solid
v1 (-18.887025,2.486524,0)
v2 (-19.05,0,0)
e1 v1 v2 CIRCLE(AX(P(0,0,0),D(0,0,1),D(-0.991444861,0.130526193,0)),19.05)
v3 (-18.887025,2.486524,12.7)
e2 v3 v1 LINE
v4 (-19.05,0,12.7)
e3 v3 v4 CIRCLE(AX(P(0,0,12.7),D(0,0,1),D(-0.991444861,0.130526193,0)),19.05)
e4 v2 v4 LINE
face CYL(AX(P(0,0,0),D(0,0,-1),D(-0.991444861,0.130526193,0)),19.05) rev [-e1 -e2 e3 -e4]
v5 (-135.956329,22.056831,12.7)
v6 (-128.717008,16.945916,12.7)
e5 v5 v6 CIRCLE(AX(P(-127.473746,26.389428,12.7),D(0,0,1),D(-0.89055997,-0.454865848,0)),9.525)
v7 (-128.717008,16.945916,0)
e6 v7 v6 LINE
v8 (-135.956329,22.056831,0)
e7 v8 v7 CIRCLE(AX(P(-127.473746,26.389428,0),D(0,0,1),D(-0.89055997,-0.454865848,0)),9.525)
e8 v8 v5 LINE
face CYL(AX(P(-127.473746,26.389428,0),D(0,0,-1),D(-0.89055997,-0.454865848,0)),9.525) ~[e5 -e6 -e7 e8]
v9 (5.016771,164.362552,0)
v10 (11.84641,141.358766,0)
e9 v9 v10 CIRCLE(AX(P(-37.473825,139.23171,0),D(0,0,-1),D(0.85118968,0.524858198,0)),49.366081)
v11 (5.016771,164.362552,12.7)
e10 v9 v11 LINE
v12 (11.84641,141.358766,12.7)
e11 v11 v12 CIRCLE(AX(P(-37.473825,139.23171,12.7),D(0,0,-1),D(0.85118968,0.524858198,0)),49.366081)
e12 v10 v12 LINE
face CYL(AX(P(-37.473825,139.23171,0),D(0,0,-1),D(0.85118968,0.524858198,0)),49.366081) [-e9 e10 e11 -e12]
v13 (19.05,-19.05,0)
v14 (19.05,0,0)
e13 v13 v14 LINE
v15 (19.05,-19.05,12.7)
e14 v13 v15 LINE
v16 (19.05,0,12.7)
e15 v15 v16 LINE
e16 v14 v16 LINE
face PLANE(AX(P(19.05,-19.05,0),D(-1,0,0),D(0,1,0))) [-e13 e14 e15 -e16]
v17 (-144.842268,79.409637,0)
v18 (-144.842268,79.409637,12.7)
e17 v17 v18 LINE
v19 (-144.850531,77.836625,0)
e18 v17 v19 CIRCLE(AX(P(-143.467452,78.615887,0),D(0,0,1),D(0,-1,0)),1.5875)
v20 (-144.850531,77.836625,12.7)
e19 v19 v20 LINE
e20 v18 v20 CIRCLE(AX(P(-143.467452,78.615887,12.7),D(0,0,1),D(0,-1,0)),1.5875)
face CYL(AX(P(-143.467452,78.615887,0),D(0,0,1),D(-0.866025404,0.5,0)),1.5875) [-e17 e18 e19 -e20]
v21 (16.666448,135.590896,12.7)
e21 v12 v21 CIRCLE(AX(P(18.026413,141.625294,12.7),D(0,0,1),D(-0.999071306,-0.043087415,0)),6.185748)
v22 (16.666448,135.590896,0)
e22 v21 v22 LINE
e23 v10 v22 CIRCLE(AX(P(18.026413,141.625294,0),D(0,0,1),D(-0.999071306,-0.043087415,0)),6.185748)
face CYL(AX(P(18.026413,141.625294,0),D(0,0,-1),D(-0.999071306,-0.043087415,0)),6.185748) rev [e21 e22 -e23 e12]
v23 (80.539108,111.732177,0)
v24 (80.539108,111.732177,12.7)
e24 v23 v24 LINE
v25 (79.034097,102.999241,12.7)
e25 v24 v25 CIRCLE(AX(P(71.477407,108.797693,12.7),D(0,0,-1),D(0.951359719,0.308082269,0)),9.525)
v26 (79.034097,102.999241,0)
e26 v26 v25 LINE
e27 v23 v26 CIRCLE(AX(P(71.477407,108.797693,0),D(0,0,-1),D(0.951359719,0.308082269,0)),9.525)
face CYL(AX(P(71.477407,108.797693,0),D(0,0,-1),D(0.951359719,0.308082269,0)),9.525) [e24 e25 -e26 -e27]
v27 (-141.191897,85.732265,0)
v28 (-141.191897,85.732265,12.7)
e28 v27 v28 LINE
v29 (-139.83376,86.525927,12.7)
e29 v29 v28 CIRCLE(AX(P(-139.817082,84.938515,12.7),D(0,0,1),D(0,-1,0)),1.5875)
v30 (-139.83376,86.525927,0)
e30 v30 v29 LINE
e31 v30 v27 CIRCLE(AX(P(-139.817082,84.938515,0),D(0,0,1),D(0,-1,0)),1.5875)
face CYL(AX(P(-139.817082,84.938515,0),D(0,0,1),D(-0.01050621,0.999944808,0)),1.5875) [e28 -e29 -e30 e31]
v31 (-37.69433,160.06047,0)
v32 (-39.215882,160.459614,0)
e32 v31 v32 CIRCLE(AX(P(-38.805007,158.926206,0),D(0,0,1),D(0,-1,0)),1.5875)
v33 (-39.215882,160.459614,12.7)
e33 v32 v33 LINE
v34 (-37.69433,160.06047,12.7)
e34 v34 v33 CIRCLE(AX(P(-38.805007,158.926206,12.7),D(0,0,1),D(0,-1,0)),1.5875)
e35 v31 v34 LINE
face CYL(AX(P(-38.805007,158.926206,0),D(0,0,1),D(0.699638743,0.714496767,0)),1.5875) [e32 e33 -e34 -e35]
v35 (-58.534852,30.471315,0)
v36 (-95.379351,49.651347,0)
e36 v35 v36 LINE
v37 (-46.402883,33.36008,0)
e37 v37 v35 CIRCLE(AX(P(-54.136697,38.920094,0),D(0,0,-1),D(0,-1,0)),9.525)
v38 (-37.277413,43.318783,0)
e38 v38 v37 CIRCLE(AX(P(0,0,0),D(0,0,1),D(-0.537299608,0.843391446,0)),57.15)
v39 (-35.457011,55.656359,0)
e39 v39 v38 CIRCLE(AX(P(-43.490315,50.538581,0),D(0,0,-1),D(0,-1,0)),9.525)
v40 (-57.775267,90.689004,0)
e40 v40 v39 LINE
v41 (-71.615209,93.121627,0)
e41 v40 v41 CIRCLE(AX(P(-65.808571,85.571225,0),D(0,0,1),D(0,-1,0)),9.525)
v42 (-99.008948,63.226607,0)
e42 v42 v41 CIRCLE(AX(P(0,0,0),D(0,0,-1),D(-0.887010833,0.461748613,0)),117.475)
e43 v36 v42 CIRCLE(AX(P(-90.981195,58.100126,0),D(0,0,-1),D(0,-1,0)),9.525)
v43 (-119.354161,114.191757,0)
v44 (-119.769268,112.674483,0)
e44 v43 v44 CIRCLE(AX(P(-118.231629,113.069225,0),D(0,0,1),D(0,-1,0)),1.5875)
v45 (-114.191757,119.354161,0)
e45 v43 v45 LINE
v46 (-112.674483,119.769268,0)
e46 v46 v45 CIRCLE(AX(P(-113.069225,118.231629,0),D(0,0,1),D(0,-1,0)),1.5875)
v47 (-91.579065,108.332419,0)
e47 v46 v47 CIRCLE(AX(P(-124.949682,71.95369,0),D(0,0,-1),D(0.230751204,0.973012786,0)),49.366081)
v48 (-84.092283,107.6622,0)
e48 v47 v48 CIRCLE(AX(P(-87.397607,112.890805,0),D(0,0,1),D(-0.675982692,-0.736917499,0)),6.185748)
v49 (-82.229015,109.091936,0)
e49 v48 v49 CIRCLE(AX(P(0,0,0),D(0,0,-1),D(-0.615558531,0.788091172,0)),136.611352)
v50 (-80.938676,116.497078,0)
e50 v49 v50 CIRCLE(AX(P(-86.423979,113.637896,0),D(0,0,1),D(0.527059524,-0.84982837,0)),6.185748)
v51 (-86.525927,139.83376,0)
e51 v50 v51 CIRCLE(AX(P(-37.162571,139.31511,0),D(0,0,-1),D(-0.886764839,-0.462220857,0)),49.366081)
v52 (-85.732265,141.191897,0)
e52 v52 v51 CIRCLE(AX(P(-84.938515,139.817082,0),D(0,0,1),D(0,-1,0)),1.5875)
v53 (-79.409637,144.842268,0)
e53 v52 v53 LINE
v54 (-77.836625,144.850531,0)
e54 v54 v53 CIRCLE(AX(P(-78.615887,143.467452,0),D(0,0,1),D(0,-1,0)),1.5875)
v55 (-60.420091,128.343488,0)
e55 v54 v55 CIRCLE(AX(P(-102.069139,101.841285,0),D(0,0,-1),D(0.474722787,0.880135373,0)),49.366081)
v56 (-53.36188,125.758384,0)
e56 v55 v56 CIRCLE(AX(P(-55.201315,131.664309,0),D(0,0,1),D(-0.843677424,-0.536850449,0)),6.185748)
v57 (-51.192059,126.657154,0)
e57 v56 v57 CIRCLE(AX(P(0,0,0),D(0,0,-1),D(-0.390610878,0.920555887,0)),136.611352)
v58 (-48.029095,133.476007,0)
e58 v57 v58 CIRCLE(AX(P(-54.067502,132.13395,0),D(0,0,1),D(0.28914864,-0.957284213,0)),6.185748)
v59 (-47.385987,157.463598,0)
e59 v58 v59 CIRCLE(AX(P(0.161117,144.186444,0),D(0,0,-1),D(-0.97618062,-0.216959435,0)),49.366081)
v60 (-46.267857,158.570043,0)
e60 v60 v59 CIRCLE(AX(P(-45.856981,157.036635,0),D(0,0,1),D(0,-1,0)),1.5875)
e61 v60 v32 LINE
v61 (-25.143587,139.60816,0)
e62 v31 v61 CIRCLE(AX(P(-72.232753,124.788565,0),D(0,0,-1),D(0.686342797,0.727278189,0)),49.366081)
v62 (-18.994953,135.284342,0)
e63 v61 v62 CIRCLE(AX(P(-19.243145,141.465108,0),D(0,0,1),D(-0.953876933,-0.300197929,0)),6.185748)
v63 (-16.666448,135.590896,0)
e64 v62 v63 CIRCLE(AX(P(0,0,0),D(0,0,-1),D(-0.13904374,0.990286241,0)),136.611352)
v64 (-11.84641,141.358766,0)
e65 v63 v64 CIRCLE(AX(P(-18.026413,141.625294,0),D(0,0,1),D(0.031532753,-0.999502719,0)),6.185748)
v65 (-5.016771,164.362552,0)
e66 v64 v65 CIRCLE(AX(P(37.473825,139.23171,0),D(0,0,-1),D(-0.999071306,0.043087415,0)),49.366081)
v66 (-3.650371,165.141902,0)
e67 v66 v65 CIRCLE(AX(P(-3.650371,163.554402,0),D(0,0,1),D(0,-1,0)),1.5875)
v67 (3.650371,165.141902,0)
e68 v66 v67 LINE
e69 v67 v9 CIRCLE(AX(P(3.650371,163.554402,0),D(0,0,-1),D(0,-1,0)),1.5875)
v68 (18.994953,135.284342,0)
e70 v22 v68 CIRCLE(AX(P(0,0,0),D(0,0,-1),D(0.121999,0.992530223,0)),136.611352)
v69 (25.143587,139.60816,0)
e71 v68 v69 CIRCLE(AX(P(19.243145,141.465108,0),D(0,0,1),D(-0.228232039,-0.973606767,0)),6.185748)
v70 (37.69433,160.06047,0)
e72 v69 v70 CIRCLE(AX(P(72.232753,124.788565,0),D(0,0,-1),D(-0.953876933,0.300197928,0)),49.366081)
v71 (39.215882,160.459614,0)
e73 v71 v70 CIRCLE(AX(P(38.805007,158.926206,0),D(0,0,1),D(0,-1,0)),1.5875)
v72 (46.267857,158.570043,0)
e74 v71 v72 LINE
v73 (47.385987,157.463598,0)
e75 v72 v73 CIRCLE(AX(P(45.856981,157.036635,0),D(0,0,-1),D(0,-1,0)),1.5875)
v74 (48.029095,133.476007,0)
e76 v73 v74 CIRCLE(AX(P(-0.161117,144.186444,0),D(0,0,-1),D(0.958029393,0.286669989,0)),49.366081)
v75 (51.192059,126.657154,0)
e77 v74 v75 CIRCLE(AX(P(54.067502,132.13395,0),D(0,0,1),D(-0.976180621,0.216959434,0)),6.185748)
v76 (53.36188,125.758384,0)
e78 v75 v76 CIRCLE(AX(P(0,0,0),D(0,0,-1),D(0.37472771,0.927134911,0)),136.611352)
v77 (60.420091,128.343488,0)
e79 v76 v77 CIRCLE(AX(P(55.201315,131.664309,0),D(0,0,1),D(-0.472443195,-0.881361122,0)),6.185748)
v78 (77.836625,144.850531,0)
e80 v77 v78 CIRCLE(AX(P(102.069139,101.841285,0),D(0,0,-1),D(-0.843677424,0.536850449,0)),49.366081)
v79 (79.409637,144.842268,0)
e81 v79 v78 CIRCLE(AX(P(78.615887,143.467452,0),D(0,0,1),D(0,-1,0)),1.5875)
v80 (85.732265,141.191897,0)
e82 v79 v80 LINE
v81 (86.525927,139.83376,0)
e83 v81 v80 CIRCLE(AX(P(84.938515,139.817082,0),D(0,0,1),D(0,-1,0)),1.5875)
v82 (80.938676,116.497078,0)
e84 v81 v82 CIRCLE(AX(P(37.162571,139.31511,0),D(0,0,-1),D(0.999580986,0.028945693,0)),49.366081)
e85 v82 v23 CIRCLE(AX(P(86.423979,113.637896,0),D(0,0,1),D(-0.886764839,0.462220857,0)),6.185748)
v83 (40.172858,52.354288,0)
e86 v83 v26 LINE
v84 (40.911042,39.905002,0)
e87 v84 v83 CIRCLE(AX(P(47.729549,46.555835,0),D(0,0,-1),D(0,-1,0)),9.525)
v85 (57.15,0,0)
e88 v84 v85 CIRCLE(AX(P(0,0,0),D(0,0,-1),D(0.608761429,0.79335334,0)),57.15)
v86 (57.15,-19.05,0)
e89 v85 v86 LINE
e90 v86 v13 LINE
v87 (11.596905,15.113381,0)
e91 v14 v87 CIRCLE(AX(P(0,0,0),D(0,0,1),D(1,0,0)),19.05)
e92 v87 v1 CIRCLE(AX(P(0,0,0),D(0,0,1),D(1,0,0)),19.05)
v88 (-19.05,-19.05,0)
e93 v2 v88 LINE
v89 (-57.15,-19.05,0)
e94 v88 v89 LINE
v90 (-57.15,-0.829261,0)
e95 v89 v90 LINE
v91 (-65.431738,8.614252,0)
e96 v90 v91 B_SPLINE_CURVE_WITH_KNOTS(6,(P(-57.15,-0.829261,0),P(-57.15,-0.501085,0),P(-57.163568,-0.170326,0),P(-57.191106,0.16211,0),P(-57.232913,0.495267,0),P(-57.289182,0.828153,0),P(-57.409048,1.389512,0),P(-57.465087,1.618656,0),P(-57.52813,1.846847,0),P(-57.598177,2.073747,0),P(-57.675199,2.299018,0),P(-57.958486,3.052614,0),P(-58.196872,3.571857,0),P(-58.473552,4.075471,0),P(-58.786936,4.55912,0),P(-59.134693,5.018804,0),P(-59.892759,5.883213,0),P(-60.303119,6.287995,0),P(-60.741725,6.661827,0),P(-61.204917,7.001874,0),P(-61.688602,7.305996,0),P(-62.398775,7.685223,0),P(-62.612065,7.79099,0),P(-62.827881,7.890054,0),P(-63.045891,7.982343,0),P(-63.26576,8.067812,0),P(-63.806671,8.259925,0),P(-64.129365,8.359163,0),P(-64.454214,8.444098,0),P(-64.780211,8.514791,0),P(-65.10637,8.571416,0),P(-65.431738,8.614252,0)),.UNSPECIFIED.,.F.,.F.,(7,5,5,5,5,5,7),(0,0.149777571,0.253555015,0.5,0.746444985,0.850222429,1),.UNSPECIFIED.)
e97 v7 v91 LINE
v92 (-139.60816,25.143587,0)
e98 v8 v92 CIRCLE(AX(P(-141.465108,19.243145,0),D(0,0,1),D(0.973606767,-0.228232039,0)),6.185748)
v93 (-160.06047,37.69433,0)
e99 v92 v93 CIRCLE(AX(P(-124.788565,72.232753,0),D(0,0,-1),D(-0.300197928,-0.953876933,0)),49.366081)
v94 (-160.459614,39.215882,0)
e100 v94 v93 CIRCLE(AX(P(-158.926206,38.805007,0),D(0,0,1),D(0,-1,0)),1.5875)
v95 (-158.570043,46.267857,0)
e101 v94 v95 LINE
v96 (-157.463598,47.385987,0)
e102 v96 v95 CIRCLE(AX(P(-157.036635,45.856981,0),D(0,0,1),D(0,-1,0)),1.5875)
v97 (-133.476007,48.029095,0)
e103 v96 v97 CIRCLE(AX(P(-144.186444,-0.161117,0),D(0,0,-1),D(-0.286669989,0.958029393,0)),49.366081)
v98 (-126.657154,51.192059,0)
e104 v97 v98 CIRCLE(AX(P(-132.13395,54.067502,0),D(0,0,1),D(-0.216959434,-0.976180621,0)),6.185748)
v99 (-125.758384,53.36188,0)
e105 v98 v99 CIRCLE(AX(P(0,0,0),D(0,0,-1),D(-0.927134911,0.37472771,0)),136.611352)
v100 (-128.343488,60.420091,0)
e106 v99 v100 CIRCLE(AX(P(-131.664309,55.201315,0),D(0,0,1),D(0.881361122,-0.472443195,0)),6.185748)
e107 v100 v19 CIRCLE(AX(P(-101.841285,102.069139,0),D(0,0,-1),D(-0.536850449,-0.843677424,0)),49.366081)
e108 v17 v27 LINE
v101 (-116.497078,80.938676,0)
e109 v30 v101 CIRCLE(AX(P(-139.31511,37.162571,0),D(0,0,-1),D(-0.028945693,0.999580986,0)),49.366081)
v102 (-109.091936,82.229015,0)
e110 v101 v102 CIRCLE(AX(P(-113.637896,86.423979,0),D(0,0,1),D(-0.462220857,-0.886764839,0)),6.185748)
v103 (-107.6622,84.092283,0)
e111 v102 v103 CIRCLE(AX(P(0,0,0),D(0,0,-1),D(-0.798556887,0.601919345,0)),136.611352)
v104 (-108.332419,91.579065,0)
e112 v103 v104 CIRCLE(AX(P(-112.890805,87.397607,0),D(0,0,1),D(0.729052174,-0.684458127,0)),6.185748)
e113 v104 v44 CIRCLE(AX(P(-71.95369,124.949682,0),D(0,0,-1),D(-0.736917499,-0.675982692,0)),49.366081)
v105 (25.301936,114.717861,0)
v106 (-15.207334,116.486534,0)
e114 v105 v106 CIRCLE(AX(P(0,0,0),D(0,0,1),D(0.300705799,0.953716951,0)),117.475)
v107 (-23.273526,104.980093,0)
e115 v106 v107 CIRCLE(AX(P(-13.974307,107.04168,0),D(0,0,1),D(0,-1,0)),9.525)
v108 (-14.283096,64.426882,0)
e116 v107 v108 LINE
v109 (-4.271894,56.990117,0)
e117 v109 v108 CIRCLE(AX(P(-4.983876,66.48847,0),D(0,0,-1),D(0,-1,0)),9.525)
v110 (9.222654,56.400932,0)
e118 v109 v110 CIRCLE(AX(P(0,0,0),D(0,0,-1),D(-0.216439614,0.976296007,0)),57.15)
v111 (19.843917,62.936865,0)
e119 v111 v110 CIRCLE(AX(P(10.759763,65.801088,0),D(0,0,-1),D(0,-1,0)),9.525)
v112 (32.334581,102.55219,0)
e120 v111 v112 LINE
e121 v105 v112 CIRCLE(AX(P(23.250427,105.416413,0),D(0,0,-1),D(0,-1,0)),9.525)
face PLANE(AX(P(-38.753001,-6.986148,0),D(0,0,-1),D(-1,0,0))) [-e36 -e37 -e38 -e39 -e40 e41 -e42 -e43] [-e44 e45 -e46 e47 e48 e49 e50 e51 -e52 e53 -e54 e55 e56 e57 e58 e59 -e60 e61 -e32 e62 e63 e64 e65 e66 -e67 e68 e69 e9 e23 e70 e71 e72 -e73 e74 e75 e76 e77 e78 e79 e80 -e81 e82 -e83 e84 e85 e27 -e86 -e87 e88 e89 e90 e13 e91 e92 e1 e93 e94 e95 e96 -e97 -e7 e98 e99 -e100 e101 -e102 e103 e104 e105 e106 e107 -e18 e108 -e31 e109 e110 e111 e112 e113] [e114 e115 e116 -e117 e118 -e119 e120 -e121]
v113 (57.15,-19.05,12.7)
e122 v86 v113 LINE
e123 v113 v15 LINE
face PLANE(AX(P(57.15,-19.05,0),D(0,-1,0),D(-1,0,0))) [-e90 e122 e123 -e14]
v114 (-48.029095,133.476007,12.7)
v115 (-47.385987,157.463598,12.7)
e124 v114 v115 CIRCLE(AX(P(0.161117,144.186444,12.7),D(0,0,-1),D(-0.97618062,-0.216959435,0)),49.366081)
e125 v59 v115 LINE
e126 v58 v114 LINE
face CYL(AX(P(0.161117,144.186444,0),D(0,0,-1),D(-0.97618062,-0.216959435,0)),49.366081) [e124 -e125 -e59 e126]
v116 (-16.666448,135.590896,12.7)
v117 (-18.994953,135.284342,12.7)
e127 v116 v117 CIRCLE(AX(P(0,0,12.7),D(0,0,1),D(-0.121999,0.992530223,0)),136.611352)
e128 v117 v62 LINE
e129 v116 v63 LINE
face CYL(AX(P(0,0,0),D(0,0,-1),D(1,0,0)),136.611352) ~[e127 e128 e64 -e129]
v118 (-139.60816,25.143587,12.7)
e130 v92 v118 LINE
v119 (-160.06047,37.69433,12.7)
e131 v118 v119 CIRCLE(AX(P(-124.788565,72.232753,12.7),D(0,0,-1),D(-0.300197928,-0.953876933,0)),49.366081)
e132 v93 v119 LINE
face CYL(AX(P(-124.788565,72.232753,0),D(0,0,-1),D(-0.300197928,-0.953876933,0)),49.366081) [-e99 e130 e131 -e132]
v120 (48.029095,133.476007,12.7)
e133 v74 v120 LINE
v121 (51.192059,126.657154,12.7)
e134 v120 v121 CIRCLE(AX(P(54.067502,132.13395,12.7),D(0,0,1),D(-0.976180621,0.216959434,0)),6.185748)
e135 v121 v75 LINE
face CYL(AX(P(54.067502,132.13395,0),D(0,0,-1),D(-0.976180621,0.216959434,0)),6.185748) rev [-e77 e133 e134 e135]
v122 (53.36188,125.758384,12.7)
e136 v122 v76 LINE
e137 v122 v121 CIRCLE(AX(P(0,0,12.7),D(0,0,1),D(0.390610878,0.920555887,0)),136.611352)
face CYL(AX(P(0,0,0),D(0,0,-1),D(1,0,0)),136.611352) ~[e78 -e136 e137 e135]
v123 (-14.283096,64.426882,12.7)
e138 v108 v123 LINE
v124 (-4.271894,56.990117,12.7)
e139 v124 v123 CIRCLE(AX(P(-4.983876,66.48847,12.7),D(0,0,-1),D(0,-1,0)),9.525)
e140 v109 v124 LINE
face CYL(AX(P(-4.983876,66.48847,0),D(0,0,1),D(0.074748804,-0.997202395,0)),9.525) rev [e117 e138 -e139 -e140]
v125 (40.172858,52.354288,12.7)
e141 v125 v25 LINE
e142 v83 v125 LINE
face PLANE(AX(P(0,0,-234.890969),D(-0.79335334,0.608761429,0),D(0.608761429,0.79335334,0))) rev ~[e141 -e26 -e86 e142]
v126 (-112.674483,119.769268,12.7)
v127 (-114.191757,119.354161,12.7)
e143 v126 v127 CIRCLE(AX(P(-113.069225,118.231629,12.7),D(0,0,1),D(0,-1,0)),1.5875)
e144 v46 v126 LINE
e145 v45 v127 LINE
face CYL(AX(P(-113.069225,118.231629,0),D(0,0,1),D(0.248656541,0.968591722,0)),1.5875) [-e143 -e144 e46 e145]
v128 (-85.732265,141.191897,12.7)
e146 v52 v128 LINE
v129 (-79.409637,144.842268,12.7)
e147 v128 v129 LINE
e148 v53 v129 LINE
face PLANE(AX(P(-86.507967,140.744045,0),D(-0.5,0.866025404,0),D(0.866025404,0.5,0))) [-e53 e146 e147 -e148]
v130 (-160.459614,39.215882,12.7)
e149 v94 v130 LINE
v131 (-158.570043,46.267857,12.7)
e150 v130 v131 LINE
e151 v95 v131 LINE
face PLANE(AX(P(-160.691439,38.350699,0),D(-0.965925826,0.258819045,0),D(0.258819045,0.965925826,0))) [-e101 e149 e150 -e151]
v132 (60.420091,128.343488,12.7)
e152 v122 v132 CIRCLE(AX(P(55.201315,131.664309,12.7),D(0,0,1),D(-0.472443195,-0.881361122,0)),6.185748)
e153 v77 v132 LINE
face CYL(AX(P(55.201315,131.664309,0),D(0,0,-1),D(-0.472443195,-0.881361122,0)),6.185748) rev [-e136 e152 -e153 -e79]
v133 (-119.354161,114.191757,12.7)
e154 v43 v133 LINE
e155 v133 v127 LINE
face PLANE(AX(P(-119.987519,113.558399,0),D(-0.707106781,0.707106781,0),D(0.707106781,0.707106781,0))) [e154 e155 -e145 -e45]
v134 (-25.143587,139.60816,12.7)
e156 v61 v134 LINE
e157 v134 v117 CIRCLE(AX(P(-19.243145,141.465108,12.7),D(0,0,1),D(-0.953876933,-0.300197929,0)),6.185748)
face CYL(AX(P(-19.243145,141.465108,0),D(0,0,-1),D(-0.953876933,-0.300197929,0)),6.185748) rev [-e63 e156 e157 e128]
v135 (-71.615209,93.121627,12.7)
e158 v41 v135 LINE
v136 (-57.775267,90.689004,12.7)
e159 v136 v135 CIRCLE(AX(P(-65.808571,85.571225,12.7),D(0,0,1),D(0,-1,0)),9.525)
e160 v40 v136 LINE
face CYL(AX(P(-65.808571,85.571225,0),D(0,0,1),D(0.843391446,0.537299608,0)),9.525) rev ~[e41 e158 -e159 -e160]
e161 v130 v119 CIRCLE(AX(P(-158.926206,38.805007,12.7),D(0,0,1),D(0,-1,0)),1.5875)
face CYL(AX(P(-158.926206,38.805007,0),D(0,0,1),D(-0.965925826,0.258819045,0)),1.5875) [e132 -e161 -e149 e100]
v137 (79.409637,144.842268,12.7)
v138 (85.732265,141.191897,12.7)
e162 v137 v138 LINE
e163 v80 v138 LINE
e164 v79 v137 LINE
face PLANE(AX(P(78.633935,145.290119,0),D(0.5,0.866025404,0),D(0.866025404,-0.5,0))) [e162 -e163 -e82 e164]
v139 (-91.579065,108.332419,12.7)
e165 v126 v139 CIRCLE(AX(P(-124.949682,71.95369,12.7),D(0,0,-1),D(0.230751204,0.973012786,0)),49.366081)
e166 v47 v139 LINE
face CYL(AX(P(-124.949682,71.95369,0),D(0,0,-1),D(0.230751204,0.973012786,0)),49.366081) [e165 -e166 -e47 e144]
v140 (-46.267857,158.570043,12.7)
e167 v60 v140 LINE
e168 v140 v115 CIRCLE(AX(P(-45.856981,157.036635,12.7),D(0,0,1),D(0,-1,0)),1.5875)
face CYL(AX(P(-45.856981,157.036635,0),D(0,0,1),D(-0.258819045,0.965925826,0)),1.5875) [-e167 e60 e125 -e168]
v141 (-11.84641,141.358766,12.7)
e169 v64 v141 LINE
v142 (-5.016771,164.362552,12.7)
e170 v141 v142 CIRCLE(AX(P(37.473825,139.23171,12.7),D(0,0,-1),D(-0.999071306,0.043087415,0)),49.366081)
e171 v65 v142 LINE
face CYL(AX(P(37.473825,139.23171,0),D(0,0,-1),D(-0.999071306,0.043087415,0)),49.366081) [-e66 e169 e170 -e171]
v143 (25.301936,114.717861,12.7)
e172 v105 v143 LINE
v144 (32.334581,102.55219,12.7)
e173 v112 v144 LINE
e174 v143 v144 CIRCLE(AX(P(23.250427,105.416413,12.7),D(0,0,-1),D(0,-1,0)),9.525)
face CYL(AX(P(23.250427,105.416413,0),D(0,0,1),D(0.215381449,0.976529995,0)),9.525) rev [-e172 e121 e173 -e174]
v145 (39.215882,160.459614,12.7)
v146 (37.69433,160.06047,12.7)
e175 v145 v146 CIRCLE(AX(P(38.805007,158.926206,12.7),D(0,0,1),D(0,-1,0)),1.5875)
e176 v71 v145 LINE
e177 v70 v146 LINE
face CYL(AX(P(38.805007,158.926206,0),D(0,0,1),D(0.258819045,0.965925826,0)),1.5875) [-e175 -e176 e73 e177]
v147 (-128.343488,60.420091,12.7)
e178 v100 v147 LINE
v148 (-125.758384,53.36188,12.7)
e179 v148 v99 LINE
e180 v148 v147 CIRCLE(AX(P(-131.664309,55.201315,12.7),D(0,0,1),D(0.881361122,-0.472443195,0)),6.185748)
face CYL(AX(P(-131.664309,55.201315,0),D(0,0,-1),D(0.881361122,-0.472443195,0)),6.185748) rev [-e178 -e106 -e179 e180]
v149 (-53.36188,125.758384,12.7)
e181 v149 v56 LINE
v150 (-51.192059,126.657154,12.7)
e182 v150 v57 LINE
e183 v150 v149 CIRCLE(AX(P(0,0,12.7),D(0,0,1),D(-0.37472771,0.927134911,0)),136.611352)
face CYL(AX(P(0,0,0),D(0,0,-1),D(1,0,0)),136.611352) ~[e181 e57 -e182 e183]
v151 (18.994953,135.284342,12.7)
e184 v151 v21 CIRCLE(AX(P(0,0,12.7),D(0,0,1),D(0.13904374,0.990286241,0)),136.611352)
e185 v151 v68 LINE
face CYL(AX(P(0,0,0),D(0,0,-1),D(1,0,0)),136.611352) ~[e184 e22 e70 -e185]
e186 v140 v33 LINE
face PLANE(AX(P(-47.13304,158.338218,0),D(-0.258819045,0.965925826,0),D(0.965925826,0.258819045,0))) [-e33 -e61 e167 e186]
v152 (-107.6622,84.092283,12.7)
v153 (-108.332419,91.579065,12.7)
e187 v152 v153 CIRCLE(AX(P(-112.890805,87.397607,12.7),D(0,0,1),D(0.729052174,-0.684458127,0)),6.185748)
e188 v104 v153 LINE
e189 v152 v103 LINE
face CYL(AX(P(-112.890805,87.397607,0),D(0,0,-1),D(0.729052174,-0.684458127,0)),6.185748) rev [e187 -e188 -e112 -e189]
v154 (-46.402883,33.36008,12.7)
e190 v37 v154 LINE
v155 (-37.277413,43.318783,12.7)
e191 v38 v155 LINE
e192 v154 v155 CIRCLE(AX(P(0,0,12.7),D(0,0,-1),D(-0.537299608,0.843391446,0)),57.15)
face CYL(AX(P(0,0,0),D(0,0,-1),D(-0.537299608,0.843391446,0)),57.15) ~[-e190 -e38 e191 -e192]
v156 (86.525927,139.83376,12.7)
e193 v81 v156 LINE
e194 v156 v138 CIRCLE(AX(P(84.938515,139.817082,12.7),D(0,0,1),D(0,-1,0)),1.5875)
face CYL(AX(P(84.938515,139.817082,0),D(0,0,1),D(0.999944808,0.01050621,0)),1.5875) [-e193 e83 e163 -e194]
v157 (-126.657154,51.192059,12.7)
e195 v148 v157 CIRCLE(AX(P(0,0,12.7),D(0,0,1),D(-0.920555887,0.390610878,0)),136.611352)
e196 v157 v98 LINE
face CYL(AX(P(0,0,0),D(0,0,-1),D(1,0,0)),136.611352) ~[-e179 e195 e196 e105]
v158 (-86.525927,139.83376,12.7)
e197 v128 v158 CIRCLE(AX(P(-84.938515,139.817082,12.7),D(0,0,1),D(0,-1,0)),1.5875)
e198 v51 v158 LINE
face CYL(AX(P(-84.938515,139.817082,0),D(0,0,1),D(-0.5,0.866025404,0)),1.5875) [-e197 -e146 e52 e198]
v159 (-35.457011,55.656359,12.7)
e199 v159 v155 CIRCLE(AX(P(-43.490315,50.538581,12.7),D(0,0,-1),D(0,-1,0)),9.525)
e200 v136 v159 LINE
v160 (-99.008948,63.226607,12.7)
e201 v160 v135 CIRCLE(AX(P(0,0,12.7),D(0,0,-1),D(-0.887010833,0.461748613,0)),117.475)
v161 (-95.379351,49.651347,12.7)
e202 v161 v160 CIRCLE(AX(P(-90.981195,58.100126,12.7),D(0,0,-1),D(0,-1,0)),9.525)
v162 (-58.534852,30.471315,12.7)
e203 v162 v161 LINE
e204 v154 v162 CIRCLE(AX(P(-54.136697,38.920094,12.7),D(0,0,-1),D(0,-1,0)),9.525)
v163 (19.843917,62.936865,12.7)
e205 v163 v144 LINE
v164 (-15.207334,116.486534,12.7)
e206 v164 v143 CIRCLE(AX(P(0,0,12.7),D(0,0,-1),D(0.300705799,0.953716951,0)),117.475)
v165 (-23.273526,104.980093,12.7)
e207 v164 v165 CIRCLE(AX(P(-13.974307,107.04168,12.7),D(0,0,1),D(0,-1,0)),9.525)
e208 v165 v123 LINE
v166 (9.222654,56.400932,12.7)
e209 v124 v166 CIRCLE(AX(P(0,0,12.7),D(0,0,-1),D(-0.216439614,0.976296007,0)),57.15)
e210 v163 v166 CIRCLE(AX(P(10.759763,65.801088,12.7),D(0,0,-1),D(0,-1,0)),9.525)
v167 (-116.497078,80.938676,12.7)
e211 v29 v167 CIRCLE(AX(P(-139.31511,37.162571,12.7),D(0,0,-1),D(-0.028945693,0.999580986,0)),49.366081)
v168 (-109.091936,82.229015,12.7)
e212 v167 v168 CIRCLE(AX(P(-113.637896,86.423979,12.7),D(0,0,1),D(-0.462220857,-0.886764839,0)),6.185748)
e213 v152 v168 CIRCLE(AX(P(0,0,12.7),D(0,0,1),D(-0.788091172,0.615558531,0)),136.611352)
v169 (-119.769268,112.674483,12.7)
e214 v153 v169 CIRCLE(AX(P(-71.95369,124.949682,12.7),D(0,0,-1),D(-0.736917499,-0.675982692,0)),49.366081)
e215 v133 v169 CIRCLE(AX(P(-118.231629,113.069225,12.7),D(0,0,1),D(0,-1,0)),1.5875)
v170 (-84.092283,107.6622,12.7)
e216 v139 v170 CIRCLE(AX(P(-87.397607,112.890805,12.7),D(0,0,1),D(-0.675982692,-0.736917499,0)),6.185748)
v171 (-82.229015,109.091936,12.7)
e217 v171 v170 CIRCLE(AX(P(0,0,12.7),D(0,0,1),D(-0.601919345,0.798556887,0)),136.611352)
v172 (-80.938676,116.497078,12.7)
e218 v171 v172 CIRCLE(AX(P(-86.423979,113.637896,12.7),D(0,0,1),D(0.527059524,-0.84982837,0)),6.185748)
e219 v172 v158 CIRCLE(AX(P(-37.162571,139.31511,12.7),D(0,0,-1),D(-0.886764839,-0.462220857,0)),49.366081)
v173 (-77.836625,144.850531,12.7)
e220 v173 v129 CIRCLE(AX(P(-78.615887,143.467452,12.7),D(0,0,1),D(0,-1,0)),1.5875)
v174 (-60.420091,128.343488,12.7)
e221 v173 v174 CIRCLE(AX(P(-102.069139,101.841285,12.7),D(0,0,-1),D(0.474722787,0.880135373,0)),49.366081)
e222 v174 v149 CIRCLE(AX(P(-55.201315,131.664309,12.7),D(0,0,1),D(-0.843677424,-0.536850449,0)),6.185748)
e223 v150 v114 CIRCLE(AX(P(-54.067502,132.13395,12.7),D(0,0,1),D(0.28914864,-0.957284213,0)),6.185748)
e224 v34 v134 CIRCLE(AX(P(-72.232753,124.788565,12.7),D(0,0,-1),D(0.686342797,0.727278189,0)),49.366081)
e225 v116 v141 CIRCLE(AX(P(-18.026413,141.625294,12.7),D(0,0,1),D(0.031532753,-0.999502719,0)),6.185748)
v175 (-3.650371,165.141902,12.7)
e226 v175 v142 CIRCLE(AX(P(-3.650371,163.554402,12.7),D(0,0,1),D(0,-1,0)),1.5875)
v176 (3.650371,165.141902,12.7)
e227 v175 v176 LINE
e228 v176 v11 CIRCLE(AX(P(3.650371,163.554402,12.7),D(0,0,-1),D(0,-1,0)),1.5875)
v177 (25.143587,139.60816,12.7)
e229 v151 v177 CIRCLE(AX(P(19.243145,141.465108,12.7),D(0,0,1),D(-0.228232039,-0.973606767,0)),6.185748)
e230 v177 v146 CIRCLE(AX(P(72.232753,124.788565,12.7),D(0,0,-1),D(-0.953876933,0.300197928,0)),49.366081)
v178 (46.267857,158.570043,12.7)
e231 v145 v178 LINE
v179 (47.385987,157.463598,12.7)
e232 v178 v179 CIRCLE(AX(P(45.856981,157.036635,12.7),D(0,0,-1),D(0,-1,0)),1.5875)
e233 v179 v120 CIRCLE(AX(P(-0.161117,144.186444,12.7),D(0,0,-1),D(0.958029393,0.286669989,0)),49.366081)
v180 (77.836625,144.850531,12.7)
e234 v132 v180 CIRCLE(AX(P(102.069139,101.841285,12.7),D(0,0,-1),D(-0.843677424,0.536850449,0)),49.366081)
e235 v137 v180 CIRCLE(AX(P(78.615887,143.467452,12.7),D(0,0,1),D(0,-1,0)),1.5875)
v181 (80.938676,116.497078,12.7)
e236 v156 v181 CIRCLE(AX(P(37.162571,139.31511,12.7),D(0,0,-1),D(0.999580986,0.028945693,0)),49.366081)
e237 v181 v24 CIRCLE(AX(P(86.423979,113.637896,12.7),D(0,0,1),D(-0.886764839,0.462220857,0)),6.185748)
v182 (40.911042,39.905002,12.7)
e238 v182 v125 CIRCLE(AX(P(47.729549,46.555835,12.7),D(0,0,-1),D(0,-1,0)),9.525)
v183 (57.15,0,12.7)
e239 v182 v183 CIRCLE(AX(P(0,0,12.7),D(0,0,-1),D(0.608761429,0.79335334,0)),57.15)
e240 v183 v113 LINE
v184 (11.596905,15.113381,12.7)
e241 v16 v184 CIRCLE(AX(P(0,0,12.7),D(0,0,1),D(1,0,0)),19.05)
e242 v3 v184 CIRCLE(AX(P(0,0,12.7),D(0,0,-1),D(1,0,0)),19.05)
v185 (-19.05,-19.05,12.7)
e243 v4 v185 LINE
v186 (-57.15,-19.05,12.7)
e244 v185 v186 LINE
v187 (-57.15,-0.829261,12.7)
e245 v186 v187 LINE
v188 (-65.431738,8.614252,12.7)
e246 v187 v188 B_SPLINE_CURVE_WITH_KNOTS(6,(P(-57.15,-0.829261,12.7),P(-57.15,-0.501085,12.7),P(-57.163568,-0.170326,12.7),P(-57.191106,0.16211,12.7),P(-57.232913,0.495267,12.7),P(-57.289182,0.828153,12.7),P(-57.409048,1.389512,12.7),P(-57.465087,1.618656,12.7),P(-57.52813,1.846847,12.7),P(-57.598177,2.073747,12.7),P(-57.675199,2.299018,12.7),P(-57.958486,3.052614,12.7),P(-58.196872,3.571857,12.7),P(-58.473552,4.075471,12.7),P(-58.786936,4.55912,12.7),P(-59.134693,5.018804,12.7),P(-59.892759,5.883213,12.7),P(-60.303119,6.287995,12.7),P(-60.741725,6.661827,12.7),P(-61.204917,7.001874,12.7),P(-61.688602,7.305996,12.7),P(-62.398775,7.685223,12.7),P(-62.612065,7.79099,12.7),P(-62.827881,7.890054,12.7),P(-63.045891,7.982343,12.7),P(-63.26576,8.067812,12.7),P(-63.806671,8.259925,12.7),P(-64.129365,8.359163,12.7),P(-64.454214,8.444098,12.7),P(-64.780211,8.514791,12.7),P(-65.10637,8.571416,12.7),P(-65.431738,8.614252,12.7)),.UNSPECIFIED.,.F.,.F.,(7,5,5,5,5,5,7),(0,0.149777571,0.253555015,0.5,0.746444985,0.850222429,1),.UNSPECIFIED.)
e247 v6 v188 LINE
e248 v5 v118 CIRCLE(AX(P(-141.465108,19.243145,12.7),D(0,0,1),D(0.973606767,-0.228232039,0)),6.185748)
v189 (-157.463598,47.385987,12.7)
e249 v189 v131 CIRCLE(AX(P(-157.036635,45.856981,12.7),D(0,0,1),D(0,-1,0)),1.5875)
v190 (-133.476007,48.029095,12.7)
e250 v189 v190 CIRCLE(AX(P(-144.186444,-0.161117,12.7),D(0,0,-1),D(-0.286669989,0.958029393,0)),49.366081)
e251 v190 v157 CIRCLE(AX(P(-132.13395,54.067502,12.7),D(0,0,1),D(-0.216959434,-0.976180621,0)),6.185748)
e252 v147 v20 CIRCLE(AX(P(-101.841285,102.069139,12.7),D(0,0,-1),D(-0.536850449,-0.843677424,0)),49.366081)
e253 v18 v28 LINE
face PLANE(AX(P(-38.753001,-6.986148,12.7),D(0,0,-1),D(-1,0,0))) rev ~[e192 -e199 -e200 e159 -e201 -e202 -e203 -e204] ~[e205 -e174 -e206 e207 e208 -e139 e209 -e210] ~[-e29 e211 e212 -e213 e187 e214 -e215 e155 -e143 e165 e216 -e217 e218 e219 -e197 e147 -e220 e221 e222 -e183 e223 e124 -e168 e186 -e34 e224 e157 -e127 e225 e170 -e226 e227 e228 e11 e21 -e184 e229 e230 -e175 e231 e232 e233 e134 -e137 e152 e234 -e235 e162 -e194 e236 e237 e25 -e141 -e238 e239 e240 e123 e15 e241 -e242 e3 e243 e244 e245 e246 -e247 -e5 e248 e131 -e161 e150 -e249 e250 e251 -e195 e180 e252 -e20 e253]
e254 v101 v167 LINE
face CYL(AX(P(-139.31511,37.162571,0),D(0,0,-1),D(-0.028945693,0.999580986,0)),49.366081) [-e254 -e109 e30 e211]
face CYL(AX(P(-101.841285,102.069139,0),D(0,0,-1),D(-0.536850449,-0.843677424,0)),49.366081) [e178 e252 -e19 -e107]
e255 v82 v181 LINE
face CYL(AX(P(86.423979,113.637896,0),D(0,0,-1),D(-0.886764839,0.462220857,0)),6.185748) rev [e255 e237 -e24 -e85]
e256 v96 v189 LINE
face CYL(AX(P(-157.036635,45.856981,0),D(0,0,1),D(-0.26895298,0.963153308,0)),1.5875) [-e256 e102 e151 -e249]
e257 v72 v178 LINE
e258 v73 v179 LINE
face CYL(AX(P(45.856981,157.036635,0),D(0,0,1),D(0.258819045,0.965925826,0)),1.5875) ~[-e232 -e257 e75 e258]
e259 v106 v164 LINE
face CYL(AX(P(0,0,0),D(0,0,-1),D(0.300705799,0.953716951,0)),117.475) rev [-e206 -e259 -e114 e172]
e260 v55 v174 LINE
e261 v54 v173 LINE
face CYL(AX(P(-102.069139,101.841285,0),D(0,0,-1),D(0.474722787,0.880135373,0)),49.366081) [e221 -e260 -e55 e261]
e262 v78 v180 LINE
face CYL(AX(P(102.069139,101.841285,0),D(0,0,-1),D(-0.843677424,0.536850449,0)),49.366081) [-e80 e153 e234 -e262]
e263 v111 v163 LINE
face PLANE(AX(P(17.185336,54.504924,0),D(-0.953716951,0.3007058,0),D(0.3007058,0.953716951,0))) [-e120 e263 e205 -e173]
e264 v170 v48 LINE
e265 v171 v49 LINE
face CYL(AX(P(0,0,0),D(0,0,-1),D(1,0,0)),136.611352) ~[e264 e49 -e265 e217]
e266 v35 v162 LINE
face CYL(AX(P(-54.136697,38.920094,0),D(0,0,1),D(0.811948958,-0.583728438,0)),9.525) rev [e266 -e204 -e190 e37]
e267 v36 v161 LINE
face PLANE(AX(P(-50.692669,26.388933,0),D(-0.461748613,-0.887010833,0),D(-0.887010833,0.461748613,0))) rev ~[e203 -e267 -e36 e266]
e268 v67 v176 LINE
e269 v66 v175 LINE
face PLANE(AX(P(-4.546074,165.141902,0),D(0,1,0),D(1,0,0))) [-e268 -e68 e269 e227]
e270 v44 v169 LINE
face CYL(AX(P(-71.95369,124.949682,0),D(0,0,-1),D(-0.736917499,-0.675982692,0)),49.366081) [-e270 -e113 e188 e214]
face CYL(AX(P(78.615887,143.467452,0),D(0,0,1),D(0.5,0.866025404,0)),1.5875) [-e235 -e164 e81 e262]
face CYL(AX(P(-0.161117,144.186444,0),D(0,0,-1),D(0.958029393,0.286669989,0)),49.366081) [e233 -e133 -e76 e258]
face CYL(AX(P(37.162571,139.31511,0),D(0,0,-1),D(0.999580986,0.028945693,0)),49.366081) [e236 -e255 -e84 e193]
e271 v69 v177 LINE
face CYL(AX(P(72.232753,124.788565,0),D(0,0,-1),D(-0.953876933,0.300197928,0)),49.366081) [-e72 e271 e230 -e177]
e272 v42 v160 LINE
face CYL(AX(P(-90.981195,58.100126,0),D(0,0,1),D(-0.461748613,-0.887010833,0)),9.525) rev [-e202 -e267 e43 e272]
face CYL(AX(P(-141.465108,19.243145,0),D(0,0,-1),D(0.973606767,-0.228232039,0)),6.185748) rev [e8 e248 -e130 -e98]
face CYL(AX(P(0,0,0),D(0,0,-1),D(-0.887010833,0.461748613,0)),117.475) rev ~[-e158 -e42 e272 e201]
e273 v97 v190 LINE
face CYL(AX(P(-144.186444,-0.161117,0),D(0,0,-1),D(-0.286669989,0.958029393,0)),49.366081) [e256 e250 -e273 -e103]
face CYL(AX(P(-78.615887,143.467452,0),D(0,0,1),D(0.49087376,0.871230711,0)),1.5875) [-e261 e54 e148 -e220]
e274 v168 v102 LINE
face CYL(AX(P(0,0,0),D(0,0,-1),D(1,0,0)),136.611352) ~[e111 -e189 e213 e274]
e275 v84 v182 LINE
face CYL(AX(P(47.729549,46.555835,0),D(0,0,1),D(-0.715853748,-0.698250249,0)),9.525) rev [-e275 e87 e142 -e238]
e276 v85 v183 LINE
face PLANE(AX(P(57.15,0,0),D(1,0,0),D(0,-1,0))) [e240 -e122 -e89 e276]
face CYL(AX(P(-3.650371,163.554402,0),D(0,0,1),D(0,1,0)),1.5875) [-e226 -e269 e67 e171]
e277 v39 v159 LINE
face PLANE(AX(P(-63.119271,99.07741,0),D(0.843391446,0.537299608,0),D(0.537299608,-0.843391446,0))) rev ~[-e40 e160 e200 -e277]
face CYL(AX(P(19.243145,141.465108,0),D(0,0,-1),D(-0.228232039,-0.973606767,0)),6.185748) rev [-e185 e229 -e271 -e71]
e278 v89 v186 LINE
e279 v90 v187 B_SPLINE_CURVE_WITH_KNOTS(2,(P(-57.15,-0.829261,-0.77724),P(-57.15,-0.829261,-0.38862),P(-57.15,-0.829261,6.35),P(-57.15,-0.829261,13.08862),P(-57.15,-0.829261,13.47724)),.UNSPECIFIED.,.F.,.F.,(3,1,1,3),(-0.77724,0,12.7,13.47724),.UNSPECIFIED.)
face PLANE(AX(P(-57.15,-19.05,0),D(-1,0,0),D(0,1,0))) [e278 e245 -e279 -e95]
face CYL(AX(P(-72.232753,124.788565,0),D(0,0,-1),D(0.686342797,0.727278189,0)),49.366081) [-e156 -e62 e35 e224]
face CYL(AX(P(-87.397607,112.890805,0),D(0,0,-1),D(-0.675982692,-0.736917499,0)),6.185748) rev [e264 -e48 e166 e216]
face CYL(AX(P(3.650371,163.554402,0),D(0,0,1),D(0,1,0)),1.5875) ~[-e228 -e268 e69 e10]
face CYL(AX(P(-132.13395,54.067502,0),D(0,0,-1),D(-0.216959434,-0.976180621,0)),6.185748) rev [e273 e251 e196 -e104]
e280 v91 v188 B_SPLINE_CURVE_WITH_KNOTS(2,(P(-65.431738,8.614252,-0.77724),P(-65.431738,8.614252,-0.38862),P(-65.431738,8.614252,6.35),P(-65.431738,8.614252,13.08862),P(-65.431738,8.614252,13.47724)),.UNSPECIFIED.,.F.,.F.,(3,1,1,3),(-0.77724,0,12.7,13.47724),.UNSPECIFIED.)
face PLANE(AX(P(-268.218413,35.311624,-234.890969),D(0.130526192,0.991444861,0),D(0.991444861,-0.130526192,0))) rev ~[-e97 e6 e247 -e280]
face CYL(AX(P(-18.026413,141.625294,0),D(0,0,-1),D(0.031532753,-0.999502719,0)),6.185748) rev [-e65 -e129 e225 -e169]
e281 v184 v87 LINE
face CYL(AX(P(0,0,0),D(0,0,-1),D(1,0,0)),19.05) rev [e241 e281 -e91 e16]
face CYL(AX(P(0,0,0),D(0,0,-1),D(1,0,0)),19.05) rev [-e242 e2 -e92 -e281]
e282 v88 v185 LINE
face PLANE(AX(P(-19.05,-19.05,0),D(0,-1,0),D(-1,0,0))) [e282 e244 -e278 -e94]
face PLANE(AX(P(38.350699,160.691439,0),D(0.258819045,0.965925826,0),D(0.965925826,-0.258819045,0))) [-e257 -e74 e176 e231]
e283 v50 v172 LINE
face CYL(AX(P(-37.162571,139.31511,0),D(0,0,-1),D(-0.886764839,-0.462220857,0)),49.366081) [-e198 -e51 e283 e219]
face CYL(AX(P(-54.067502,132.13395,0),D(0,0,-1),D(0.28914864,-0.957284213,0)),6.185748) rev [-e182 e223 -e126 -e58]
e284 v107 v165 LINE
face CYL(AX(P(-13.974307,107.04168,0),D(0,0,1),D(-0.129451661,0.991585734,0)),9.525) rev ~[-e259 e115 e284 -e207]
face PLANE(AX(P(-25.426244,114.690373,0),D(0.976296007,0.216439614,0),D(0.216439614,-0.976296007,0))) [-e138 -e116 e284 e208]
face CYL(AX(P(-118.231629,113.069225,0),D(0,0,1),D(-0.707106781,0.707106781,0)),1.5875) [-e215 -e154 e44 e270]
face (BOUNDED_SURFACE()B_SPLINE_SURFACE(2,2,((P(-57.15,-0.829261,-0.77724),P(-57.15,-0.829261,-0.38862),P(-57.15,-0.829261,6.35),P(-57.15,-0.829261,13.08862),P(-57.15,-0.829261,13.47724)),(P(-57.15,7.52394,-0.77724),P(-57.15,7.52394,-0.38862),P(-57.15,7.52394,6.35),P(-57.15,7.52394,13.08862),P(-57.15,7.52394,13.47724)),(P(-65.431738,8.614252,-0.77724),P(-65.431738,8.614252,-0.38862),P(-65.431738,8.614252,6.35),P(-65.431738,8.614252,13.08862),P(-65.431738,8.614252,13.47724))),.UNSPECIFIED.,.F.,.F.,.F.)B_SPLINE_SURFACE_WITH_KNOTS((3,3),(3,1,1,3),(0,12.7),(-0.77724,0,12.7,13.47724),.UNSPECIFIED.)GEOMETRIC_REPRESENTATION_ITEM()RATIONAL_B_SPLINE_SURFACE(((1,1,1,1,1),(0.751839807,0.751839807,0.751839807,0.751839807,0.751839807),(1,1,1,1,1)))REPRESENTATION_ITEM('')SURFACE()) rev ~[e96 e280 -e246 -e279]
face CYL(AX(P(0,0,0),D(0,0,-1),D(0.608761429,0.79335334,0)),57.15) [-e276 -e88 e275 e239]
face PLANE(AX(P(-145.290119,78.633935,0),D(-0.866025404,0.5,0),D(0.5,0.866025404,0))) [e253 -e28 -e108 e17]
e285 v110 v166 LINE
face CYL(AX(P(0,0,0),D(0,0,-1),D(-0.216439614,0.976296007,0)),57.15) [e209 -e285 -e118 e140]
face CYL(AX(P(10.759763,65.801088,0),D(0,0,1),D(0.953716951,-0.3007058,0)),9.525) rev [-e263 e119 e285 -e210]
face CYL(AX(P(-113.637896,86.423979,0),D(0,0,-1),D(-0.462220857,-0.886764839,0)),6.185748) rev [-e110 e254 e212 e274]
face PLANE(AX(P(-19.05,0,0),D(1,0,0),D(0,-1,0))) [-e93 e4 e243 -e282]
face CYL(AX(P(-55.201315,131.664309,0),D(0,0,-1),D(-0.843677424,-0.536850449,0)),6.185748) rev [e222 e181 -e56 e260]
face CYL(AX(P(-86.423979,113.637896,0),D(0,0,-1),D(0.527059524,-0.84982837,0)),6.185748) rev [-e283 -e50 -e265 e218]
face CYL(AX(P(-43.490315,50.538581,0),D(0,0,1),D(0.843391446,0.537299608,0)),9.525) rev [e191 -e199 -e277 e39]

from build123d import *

# Parameters (mm, degrees)
SKETCH3_R                = 136.611351841
EXTRUDE1_DEPTH           = 12.7
EXTRUDE2_DEPTH           = 12.7
FILLET2_R                = 1.5875
CIRPATTERN1_COUNT        = 24
FILLET2_OF_CIRPATTERN1_R = 1.5875
CUT_EXTRUDE1_DEPTH       = 234.890969431
CUT_EXTRUDE1_DEPTH_BACK  = 234.890969431
CUT_EXTRUDE2_REACH       = 232.646
SKETCH5_R                = 19.05
EXTRUDE3_DEPTH           = 12.7
CUT_EXTRUDE5_DEPTH       = 231.646456089
FILLET1_R                = 9.525
CUT_EXTRUDE7_DEPTH       = 12.7


with BuildPart() as part:
    # Sketch3 → Extrude1 (new body)
    with BuildSketch(Plane.XY):
        Circle(SKETCH3_R)
    extrude(amount=EXTRUDE1_DEPTH)

    # Sketch2 → Extrude2 (add)
    with BuildSketch(Plane.XY):
        with BuildLine():
            Line((-4.546074008, 165.141901983), (4.546074008, 165.141901983))
            ThreePointArc((4.546074008, 165.141901983), (9.719017906, 153.717756782), (11.846410355, 141.35876639))
            ThreePointArc((11.846410355, 141.35876639), (13.677789854, 137.226095775), (17.83135957, 135.442622788))
            Line((17.83135957, 135.442622788), (17.83135957, 110.042622788))
            Line((17.83135957, 110.042622788), (-17.83135957, 110.042622788))
            Line((-17.83135957, 110.042622788), (-17.83135957, 135.442622788))
            ThreePointArc((-17.83135957, 135.442622788), (-13.677789854, 137.226095775), (-11.846410355, 141.35876639))
            ThreePointArc((-11.846410355, 141.35876639), (-9.719017906, 153.717756782), (-4.546074008, 165.141901983))
        make_face()
    extrude2 = extrude(amount=EXTRUDE2_DEPTH)

    # Fillet2
    fillet2_edges = [part.edges().sort_by_distance(p)[0] for p in [
        (4.546074008, 165.141901983, 6.35),
        (-4.546074008, 165.141901983, 6.35),
    ]]
    fillet(fillet2_edges, radius=FILLET2_R)

    # CirPattern1: Extrude2 ×24 about axis
    cirpattern1_axis = Axis((0, 0, 0), (0, 0, 1))
    for i in range(1, CIRPATTERN1_COUNT):
        add(extrude2.rotate(cirpattern1_axis, i * 360 / CIRPATTERN1_COUNT))

    # Fillet2 of CirPattern1
    fillet2_of_cirpattern1_edges = [part.edges().sort_by_distance(p)[0] for p in [
        (-38.350699085, 160.691438662, 6.35),
        (-47.13303967, 158.338217595, 6.35),
        (-78.633935413, 145.290119351, 6.35),
        (-86.50796657, 140.744045343, 6.35),
        (-113.558398992, 119.987518509, 6.35),
        (-119.987518509, 113.558398992, 6.35),
        (-140.744045343, 86.50796657, 6.35),
        (-145.290119351, 78.633935413, 6.35),
        (-158.338217595, 47.13303967, 6.35),
        (-160.691438662, 38.350699085, 6.35),
        (-165.141901983, 4.546074008, 6.35),
        (-165.141901983, -4.546074008, 6.35),
        (-160.691438662, -38.350699085, 6.35),
        (-158.338217595, -47.13303967, 6.35),
        (-145.290119351, -78.633935413, 6.35),
        (-140.744045343, -86.50796657, 6.35),
        (-119.987518509, -113.558398992, 6.35),
        (-113.558398992, -119.987518509, 6.35),
        (-86.50796657, -140.744045343, 6.35),
        (-78.633935413, -145.290119351, 6.35),
        (-47.13303967, -158.338217595, 6.35),
        (-38.350699085, -160.691438662, 6.35),
        (-4.546074008, -165.141901983, 6.35),
        (4.546074008, -165.141901983, 6.35),
        (38.350699085, -160.691438662, 6.35),
        (47.13303967, -158.338217595, 6.35),
        (78.633935413, -145.290119351, 6.35),
        (86.50796657, -140.744045343, 6.35),
        (113.558398992, -119.987518509, 6.35),
        (119.987518509, -113.558398992, 6.35),
        (140.744045343, -86.50796657, 6.35),
        (145.290119351, -78.633935413, 6.35),
        (158.338217595, -47.13303967, 6.35),
        (160.691438662, -38.350699085, 6.35),
        (165.141901983, -4.546074008, 6.35),
        (165.141901983, 4.546074008, 6.35),
        (160.691438662, 38.350699085, 6.35),
        (158.338217595, 47.13303967, 6.35),
        (145.290119351, 78.633935413, 6.35),
        (140.744045343, 86.50796657, 6.35),
        (119.987518509, 113.558398992, 6.35),
        (113.558398992, 119.987518509, 6.35),
        (86.50796657, 140.744045343, 6.35),
        (78.633935413, 145.290119351, 6.35),
        (47.13303967, 158.338217595, 6.35),
        (38.350699085, 160.691438662, 6.35),
    ]]
    fillet(fillet2_of_cirpattern1_edges, radius=FILLET2_OF_CIRPATTERN1_R)

    # Sketch4 → Cut-Extrude1 (cut, two sides: drawn at the far end of the back side and taken through both)
    with BuildSketch(Plane.XY.offset(-CUT_EXTRUDE1_DEPTH_BACK)):
        Polygon((-1275.53694573, 167.92762467), (-268.218413087, 35.311623982), (0, 0), (164.689969961, 214.628147505), (783.198061827, 1020.683586133), (1560.818943381, -856.6592925), (-497.916064176, -1709.415253962), align=None)
    extrude(amount=CUT_EXTRUDE1_DEPTH + CUT_EXTRUDE1_DEPTH_BACK, mode=Mode.SUBTRACT)

    # Sketch5 → Cut-Extrude2 (cut, up to next)
    with BuildSketch(Plane.XY, mode=Mode.PRIVATE) as cut_extrude2_sk1:
        Circle(SKETCH5_R)
    cut_extrude2_tool1 = extrude(cut_extrude2_sk1.sketch, amount=CUT_EXTRUDE2_REACH, mode=Mode.PRIVATE) & part.part
    add(cut_extrude2_tool1.solids().sort_by_distance((0, 0, 0))[0], mode=Mode.SUBTRACT)

    # Sketch6 → Extrude3 (add)
    with BuildSketch(Plane.XY):
        with BuildLine():
            Line((-19.05, 0), (-19.05, -19.05))
            Line((-19.05, -19.05), (-57.15, -19.05))
            Line((-57.15, -19.05), (-57.15, 0))
            ThreePointArc((-57.15, 0), (-57.027637463, 3.737788836), (-56.661073828, 7.459571885))
            Line((-56.661073828, 7.459571885), (-18.887024609, 2.486523962))
            ThreePointArc((-18.887024609, 2.486523962), (-19.009212488, 1.245929612), (-19.05, 0))
        make_face()
        with BuildLine():
            Line((11.596905223, 15.113381133), (34.790715668, 45.340143398))
            ThreePointArc((34.790715668, 45.340143398), (51.256277179, 25.276798646), (57.15, 0))
            Line((57.15, 0), (57.15, -19.05))
            Line((57.15, -19.05), (19.05, -19.05))
            Line((19.05, -19.05), (19.05, 0))
            ThreePointArc((19.05, 0), (17.085425726, 8.425599549), (11.596905223, 15.113381133))
        make_face()
    extrude(amount=EXTRUDE3_DEPTH)

    # Sketch8 → Cut-Extrude5 (cut, through all)
    with BuildSketch(Plane.XY):
        with BuildLine():
            Line((-25.426243647, 114.690373436), (-12.369523937, 55.795316807))
            ThreePointArc((-12.369523937, 55.795316807), (2.492847988, 57.095605863), (17.185336442, 54.504923735))
            Line((17.185336442, 54.504923735), (35.325413797, 112.037898789))
            ThreePointArc((35.325413797, 112.037898789), (5.124187531, 117.36318983), (-25.426243647, 114.690373436))
        make_face()
        with BuildLine():
            Line((-63.119271491, 99.077410097), (-30.706672617, 48.199821128))
            ThreePointArc((-30.706672617, 48.199821128), (-42.135399799, 38.609980365), (-50.692669116, 26.388933246))
            Line((-50.692669116, 26.388933246), (-104.201597628, 54.24391834))
            ThreePointArc((-104.201597628, 54.24391834), (-86.611655142, 79.36495964), (-63.119271491, 99.077410097))
        make_face()
    extrude(amount=CUT_EXTRUDE5_DEPTH, mode=Mode.SUBTRACT)

    # Fillet1
    fillet1_edges = [part.edges().sort_by_distance(p)[0] for p in [
        (34.790715668, 45.340143398, 6.35),
        (-50.692669116, 26.388933246, 6.35),
        (-30.706672617, 48.199821128, 6.35),
        (-63.119271491, 99.077410097, 6.35),
        (-104.201597628, 54.24391834, 6.35),
        (-12.369523937, 55.795316807, 6.35),
        (17.185336442, 54.504923735, 6.35),
        (35.325413797, 112.037898789, 6.35),
        (-25.426243647, 114.690373436, 6.35),
        (-56.661073828, 7.459571885, 6.35),
        (-57.15, 0, 6.35),
    ]]
    fillet(fillet1_edges, radius=FILLET1_R)

    # Sketch9 → Cut-Extrude7 (cut)
    with BuildSketch(Plane.XY):
        with BuildLine():
            Line((79.034097122, 102.999240689), (83.809524096, 109.222698287))
            Line((83.809524096, 109.222698287), (80.539107883, 111.732176909))
            ThreePointArc((80.539107883, 111.732176909), (80.864034333, 107.180027092), (79.034097122, 102.999240689))
        make_face()
        with BuildLine():
            Line((-128.717007568, 16.945915528), (-136.494393434, 17.969827802))
            Line((-136.494393434, 17.969827802), (-135.956329304, 22.056830634))
            ThreePointArc((-135.956329304, 22.056830634), (-132.967230996, 18.608216933), (-128.717007568, 16.945915528))
        make_face()
    extrude(amount=CUT_EXTRUDE7_DEPTH, mode=Mode.SUBTRACT)


solid = part.part
